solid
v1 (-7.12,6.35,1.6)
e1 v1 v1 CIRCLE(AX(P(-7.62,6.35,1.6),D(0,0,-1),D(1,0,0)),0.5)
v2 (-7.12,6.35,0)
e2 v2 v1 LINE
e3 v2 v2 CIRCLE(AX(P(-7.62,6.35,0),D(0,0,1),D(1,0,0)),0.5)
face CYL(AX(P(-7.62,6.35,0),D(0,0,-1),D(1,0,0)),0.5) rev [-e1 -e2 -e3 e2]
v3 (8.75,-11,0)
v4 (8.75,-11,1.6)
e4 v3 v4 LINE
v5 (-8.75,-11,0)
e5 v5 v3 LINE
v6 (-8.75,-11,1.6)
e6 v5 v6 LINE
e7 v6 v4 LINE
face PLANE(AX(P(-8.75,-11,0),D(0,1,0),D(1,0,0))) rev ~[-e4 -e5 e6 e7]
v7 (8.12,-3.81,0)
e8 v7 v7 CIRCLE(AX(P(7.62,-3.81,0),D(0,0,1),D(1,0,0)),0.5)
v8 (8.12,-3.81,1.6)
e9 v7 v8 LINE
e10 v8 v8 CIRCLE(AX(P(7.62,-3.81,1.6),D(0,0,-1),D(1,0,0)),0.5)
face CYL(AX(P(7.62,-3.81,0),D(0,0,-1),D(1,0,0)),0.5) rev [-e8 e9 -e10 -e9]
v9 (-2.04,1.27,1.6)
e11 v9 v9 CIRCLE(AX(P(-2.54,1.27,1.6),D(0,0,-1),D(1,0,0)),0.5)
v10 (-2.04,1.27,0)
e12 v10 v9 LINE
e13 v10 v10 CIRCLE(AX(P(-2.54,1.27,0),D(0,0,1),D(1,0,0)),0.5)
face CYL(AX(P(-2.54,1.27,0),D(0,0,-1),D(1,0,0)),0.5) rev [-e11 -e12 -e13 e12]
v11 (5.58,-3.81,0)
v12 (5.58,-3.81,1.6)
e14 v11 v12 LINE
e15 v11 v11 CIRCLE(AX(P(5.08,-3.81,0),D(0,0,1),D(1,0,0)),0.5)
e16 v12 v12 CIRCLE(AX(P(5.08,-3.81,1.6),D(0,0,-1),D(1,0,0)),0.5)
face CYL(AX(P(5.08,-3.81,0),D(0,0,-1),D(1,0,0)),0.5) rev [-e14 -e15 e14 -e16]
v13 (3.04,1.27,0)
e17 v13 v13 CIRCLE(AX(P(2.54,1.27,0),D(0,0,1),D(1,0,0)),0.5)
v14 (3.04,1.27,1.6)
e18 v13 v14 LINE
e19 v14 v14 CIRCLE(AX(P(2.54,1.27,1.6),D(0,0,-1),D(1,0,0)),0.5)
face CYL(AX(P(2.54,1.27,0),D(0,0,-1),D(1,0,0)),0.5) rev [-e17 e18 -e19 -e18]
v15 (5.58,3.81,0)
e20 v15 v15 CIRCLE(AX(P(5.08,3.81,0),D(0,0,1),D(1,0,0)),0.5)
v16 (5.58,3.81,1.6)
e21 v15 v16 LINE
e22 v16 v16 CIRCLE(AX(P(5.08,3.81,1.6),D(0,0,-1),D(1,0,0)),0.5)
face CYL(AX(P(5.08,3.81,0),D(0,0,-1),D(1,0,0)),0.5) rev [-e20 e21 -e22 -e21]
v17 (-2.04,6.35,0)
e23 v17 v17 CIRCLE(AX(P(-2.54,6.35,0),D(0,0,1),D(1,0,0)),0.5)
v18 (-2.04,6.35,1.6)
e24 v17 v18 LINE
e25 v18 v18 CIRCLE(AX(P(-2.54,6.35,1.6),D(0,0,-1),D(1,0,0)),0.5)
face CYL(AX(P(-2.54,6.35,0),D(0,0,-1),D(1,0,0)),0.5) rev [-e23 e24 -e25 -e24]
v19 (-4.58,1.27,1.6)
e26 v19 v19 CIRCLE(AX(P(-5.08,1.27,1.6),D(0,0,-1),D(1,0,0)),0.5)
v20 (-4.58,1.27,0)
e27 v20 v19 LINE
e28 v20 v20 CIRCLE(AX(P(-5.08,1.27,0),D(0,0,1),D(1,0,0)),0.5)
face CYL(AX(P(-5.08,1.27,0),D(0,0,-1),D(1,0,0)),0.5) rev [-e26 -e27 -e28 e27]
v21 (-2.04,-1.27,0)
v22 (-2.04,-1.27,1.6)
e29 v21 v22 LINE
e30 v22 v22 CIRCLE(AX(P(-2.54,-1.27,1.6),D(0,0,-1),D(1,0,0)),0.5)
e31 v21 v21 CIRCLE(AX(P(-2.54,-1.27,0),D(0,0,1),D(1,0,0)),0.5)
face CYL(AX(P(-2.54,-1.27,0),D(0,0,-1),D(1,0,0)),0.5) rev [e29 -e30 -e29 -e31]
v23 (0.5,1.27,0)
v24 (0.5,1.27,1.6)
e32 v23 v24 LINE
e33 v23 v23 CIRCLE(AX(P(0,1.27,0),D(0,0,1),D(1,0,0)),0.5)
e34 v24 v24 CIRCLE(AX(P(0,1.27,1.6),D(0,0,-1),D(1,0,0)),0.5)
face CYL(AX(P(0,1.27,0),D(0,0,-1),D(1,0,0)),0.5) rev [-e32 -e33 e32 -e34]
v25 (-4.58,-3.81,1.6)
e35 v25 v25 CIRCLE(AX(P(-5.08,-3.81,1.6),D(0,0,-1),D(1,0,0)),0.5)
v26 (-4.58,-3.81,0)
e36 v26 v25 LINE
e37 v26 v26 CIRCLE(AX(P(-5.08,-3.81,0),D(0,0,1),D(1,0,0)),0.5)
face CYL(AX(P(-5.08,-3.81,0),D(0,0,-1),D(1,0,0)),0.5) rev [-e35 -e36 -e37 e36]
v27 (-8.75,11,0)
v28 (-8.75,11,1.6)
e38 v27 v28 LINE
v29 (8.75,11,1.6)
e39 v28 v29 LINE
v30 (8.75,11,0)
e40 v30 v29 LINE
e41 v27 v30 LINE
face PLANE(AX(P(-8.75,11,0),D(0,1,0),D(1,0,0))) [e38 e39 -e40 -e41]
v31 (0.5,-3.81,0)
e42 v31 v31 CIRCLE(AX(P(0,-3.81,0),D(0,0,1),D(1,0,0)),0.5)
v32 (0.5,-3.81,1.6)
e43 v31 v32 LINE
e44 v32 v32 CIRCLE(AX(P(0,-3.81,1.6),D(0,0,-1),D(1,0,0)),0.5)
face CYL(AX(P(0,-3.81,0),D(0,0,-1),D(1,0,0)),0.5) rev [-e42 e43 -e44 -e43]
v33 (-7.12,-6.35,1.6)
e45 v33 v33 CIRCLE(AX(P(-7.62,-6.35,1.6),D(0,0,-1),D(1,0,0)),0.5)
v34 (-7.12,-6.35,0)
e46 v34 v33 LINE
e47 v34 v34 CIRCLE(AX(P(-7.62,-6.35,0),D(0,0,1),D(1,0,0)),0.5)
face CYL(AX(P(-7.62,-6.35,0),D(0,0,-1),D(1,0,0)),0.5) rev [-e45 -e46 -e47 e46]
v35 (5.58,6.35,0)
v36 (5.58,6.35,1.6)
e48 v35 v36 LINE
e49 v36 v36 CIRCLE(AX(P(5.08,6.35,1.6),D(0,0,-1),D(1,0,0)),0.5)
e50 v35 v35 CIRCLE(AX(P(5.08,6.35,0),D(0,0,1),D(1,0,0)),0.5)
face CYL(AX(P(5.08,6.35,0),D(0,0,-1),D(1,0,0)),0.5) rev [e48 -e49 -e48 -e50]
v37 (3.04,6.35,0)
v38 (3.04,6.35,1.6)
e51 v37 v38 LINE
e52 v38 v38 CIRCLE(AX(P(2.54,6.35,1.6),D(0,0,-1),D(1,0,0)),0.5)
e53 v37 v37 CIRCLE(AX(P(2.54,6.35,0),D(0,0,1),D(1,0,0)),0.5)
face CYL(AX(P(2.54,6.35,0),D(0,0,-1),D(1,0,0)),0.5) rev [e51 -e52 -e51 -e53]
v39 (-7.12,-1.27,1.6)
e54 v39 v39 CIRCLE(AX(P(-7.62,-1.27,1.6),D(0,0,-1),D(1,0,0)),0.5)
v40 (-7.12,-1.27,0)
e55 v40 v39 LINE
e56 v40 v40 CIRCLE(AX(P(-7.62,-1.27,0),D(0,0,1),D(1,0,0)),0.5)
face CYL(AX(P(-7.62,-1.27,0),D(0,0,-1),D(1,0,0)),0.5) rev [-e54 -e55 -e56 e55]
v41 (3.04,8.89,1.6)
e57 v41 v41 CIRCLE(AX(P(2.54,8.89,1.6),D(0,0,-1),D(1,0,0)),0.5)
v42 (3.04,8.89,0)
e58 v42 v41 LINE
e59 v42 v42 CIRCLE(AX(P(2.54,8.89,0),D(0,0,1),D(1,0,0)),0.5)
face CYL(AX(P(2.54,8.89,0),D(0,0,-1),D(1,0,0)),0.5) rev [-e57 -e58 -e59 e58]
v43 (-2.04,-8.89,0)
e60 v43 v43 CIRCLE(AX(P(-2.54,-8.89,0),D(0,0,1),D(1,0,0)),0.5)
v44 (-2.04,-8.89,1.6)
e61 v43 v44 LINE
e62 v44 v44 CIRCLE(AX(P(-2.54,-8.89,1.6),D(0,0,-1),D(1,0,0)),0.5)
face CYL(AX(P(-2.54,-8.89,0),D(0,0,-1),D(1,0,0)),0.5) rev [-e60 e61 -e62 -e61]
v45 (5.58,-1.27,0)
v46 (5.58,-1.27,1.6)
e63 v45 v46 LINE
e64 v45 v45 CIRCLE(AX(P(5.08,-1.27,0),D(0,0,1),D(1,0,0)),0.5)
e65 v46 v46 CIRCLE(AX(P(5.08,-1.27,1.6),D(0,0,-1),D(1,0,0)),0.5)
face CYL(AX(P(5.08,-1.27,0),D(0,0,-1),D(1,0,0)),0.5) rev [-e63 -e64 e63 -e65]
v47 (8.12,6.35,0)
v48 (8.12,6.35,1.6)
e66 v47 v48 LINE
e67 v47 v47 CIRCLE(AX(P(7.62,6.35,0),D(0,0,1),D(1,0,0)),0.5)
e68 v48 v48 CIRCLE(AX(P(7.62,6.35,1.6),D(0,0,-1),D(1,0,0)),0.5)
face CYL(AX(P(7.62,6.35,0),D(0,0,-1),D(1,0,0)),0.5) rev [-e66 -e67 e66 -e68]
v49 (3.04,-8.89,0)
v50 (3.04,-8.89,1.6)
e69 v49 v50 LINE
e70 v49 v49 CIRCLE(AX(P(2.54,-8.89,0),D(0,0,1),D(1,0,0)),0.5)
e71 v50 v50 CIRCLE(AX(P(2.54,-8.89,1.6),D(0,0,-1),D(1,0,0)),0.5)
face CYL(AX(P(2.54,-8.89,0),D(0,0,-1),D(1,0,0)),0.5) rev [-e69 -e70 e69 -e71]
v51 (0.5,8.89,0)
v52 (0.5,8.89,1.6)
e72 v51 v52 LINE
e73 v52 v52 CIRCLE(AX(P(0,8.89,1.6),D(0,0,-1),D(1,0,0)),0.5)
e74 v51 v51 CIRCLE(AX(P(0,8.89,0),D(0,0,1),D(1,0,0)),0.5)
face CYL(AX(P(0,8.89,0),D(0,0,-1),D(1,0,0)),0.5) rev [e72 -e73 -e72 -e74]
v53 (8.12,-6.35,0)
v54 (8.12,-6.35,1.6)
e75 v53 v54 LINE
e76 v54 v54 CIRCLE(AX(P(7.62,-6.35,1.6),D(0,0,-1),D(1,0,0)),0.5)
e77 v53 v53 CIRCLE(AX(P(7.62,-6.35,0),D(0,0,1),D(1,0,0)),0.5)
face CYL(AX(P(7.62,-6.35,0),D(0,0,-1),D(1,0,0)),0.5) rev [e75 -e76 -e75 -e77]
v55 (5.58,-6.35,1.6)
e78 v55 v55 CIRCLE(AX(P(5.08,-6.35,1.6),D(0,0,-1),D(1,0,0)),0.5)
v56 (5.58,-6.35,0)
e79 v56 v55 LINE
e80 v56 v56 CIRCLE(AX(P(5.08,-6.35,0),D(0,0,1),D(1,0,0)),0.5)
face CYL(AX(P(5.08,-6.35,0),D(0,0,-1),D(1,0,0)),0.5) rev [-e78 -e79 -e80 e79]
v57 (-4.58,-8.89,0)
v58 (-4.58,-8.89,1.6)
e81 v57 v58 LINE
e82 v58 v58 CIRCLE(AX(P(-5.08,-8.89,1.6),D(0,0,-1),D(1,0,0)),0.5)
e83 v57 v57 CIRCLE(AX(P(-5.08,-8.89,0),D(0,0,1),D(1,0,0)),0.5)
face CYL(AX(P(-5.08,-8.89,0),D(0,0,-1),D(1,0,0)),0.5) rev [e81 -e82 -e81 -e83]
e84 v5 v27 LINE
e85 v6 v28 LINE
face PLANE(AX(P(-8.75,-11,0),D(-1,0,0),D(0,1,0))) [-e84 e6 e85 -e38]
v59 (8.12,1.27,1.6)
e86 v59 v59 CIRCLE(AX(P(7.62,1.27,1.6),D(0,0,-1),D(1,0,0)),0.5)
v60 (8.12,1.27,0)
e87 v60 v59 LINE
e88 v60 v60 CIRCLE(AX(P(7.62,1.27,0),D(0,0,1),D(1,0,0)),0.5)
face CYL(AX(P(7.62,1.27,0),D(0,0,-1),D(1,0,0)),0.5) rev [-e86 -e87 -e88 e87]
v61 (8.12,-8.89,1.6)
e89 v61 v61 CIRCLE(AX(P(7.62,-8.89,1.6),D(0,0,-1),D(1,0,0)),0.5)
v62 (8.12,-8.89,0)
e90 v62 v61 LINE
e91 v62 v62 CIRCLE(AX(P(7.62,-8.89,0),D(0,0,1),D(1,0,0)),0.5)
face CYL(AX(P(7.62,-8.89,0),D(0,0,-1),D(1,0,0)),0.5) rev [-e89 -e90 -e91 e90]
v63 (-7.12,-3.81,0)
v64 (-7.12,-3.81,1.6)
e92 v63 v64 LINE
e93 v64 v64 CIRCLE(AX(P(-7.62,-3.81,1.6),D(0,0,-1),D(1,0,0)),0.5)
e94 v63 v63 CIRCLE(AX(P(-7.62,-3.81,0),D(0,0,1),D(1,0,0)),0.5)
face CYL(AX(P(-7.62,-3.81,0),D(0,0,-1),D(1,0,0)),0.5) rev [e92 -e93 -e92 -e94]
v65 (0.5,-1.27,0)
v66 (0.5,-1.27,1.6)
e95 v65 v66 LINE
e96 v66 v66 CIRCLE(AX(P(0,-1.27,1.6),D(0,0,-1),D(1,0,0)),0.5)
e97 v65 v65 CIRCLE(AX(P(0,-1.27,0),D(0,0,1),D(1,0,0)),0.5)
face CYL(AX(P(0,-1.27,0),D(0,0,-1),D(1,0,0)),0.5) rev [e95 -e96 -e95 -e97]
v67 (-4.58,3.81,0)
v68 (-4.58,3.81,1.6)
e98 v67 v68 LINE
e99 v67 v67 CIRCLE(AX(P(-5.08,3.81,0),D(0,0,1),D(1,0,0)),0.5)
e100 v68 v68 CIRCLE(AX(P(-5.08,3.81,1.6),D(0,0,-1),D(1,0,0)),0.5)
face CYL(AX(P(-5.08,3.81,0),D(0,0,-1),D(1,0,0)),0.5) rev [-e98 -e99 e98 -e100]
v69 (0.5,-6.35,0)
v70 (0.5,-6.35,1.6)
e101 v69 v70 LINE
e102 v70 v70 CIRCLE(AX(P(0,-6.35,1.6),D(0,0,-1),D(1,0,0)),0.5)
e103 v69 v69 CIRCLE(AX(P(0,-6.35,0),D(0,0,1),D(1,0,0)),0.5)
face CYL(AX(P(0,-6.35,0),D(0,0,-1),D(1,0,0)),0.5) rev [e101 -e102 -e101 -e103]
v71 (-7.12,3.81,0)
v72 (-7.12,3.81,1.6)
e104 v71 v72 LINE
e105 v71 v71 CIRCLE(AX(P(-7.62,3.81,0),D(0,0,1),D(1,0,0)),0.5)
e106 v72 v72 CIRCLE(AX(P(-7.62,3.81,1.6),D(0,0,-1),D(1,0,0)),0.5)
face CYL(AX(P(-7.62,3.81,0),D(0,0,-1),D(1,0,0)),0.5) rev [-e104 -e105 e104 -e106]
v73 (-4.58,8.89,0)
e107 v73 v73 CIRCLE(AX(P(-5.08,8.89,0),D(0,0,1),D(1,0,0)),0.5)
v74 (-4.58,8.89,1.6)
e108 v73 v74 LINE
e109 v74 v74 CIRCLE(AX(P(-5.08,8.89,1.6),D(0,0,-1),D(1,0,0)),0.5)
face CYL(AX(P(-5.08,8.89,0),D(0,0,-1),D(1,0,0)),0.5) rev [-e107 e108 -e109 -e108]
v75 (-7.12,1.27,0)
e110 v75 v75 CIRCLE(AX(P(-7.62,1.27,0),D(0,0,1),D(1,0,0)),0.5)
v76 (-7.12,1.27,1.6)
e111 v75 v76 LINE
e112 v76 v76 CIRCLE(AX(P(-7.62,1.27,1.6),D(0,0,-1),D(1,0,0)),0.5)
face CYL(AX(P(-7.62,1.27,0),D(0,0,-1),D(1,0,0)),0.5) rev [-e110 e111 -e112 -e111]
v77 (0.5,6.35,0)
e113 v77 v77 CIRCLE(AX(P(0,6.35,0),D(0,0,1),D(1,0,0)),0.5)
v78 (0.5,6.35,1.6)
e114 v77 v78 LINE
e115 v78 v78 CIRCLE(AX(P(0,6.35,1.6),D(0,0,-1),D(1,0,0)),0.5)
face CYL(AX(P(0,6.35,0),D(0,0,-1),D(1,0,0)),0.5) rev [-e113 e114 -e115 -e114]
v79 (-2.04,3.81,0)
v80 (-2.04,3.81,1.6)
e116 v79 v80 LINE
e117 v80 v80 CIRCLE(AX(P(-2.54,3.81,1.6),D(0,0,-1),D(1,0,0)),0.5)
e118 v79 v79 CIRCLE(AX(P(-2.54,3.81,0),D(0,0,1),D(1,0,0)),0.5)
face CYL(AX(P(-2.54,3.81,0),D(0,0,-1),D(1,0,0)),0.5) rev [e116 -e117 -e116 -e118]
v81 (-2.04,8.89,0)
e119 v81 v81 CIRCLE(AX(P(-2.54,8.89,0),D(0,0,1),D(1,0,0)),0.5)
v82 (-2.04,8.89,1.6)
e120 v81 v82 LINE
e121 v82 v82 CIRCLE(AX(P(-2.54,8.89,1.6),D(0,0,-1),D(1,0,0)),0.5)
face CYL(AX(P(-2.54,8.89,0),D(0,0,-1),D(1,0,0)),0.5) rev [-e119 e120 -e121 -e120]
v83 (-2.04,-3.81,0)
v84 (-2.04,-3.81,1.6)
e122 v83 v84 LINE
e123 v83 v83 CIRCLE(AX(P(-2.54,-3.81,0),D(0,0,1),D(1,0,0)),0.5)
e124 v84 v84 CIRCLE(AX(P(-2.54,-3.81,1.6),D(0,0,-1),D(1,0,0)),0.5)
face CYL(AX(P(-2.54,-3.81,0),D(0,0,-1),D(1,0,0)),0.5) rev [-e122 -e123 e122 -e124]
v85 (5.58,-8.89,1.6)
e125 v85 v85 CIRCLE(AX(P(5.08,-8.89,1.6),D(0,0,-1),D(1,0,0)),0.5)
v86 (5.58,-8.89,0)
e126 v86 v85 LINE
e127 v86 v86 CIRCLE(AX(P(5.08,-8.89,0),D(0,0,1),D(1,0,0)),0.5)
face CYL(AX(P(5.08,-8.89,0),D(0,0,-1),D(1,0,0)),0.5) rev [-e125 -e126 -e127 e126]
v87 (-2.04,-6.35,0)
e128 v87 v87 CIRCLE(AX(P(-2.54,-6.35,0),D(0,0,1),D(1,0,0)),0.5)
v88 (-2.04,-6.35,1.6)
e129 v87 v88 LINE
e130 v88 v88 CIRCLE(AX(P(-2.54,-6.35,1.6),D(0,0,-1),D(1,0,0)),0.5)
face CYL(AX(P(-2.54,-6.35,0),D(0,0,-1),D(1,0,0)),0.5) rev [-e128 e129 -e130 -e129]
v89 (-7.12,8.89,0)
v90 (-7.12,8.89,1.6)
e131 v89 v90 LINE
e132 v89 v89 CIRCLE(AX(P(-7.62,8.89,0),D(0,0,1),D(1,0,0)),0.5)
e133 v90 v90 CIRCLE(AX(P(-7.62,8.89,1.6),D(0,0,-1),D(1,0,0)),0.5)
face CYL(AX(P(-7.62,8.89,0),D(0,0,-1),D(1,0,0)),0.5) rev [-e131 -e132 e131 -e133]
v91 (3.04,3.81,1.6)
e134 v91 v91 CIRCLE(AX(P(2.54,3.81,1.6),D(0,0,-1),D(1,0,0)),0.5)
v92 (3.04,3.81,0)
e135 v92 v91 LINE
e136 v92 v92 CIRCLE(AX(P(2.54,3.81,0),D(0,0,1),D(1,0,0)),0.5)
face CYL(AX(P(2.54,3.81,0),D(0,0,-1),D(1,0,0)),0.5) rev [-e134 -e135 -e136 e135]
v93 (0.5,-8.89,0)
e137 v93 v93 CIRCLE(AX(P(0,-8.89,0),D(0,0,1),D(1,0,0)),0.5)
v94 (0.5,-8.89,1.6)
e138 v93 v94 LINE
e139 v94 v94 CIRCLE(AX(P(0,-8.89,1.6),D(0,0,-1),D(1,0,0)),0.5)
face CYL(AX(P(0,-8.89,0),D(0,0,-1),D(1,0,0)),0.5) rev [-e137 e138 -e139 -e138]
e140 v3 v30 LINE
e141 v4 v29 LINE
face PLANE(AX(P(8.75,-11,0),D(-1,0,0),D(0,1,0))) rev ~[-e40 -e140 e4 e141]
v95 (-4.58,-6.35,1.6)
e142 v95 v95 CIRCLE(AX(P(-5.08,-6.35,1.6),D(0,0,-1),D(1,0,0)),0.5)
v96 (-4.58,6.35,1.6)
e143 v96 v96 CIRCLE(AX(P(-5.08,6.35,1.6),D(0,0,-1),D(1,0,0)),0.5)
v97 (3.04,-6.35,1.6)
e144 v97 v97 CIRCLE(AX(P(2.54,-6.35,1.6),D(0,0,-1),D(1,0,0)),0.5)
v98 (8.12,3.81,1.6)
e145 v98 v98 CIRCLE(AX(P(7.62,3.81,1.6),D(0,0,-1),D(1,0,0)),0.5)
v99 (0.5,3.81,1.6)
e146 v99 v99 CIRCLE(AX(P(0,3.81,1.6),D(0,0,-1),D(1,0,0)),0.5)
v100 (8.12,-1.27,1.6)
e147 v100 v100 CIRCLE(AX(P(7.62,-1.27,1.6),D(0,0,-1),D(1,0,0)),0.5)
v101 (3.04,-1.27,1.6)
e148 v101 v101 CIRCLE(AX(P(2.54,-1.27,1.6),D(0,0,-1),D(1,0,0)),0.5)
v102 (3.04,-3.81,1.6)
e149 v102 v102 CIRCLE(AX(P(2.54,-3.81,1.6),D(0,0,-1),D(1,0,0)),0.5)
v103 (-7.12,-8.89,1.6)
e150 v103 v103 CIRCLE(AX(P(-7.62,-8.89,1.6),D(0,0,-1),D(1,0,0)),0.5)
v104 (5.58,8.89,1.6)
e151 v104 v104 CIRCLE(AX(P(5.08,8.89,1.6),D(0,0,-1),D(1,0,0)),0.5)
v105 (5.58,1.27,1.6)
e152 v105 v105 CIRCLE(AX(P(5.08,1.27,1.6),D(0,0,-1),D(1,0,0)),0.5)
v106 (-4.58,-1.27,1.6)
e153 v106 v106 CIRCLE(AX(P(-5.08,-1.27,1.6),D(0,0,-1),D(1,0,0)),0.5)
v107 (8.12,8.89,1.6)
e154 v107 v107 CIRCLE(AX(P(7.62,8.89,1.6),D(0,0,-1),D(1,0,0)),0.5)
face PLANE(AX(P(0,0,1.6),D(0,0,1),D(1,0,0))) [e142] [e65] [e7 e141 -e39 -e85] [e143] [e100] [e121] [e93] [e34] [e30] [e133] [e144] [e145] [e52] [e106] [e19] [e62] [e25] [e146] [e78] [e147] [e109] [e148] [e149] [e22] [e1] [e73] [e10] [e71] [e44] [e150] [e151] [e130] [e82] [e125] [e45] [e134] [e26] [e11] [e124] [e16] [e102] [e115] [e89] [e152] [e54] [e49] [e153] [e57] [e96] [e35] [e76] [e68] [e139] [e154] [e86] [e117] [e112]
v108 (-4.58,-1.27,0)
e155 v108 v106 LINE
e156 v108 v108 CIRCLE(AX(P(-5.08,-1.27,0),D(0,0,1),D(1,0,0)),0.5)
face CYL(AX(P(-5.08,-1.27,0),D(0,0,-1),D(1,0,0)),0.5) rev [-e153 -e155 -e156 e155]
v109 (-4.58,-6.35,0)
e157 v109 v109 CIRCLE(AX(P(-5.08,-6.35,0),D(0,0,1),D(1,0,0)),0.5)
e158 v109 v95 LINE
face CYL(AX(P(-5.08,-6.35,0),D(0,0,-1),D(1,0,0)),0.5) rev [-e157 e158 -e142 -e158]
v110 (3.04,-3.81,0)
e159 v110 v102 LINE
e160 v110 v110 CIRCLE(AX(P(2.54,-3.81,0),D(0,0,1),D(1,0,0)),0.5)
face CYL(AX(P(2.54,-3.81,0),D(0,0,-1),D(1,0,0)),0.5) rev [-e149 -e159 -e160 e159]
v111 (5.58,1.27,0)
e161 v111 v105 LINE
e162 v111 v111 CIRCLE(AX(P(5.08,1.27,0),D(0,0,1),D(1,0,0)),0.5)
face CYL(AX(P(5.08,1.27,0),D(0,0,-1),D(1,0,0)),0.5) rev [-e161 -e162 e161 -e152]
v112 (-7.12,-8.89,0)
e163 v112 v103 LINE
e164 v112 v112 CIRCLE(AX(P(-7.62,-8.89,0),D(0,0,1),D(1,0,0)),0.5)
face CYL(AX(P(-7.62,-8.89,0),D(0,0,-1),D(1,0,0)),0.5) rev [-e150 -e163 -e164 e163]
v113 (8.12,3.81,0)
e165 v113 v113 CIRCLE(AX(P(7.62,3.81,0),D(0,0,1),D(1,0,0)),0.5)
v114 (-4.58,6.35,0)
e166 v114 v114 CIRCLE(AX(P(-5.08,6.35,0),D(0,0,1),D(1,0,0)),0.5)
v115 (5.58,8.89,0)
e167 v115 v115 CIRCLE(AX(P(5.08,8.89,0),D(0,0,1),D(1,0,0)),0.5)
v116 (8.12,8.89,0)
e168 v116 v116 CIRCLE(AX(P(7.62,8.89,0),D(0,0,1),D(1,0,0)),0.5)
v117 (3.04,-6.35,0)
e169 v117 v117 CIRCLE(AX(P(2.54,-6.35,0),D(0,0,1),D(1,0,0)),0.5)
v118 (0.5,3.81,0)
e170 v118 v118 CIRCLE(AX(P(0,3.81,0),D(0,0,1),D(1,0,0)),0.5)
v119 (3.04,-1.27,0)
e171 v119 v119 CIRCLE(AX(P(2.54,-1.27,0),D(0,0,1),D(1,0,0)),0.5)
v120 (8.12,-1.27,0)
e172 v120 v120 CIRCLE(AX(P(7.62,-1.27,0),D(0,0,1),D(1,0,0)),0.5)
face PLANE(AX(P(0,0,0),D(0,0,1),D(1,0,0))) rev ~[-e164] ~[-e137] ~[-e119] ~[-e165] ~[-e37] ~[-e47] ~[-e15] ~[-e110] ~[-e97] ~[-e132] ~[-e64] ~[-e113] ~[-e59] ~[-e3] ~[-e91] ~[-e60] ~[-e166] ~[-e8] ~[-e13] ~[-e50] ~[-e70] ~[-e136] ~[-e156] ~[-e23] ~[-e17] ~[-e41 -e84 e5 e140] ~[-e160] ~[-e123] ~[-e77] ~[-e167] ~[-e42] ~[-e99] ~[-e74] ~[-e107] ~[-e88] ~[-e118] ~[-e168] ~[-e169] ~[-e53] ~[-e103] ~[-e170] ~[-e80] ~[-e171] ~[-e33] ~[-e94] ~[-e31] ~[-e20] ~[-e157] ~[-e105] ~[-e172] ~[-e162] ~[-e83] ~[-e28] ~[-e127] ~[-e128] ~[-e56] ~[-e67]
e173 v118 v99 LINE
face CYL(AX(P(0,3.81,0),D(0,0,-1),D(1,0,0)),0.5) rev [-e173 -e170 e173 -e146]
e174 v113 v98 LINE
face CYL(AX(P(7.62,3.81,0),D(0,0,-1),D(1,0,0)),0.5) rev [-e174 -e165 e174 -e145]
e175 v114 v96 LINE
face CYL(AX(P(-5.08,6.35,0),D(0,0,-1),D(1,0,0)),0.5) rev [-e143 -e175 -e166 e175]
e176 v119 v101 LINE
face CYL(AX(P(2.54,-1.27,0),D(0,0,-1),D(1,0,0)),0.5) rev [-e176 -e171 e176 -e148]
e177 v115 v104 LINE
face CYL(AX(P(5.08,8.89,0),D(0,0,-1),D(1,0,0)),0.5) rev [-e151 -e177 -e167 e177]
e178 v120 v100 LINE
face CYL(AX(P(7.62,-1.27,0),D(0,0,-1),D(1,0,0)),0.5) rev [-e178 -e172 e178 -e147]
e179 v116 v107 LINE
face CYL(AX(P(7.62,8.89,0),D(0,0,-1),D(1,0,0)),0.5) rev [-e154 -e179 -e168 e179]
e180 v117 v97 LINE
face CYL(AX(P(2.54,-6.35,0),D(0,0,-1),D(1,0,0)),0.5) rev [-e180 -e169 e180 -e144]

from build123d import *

# Parameters (mm, degrees)
SKETCH016_W                        = 17.5
SKETCH016_H                        = 22
PAD012_DEPTH                       = 1.6
SKETCH017_R                        = 0.5
POCKET003_DEPTH                    = 57.914764
SKETCH017_LINEARPATTERN001_2_R     = 0.5
POCKET003_LINEARPATTERN001_2_DEPTH = 57.914764
SKETCH017_LINEARPATTERN001_3_R     = 0.5
POCKET003_LINEARPATTERN001_3_DEPTH = 57.914764
SKETCH017_LINEARPATTERN001_4_R     = 0.5
POCKET003_LINEARPATTERN001_4_DEPTH = 57.914764
SKETCH017_LINEARPATTERN001_5_R     = 0.5
POCKET003_LINEARPATTERN001_5_DEPTH = 57.914764
SKETCH017_LINEARPATTERN001_6_R     = 0.5
POCKET003_LINEARPATTERN001_6_DEPTH = 57.914764
SKETCH017_LINEARPATTERN001_7_R     = 0.5
POCKET003_LINEARPATTERN001_7_DEPTH = 57.914764
LINEARPATTERN002_COUNT             = 8
LINEARPATTERN002_PITCH             = 2.54


with BuildPart() as part:
    # Sketch016 → Pad012 (new body)
    with BuildSketch(Plane.XY):
        Rectangle(SKETCH016_W, SKETCH016_H)
    extrude(amount=PAD012_DEPTH)

    # Sketch017 → Pocket003 (cut, through all)
    with BuildSketch(Plane.XY):
        with Locations((-7.62, -8.89)):
            Circle(SKETCH017_R)
    pocket003 = extrude(amount=POCKET003_DEPTH, mode=Mode.SUBTRACT)

    # Sketch017 LinearPattern001 2 → Pocket003 LinearPattern001 2 (cut, through all)
    with BuildSketch(Plane(origin=(2.54, 0, 0), x_dir=(1, 0, 0), z_dir=(0, 0, 1))):
        with Locations((-7.62, -8.89)):
            Circle(SKETCH017_LINEARPATTERN001_2_R)
    pocket003_linearpattern001_2 = extrude(amount=POCKET003_LINEARPATTERN001_2_DEPTH, mode=Mode.SUBTRACT)

    # Sketch017 LinearPattern001 3 → Pocket003 LinearPattern001 3 (cut, through all)
    with BuildSketch(Plane(origin=(5.08, 0, 0), x_dir=(1, 0, 0), z_dir=(0, 0, 1))):
        with Locations((-7.62, -8.89)):
            Circle(SKETCH017_LINEARPATTERN001_3_R)
    pocket003_linearpattern001_3 = extrude(amount=POCKET003_LINEARPATTERN001_3_DEPTH, mode=Mode.SUBTRACT)

    # Sketch017 LinearPattern001 4 → Pocket003 LinearPattern001 4 (cut, through all)
    with BuildSketch(Plane(origin=(7.62, 0, 0), x_dir=(1, 0, 0), z_dir=(0, 0, 1))):
        with Locations((-7.62, -8.89)):
            Circle(SKETCH017_LINEARPATTERN001_4_R)
    pocket003_linearpattern001_4 = extrude(amount=POCKET003_LINEARPATTERN001_4_DEPTH, mode=Mode.SUBTRACT)

    # Sketch017 LinearPattern001 5 → Pocket003 LinearPattern001 5 (cut, through all)
    with BuildSketch(Plane(origin=(10.16, 0, 0), x_dir=(1, 0, 0), z_dir=(0, 0, 1))):
        with Locations((-7.62, -8.89)):
            Circle(SKETCH017_LINEARPATTERN001_5_R)
    pocket003_linearpattern001_5 = extrude(amount=POCKET003_LINEARPATTERN001_5_DEPTH, mode=Mode.SUBTRACT)

    # Sketch017 LinearPattern001 6 → Pocket003 LinearPattern001 6 (cut, through all)
    with BuildSketch(Plane(origin=(12.7, 0, 0), x_dir=(1, 0, 0), z_dir=(0, 0, 1))):
        with Locations((-7.62, -8.89)):
            Circle(SKETCH017_LINEARPATTERN001_6_R)
    pocket003_linearpattern001_6 = extrude(amount=POCKET003_LINEARPATTERN001_6_DEPTH, mode=Mode.SUBTRACT)

    # Sketch017 LinearPattern001 7 → Pocket003 LinearPattern001 7 (cut, through all)
    with BuildSketch(Plane(origin=(15.24, 0, 0), x_dir=(1, 0, 0), z_dir=(0, 0, 1))):
        with Locations((-7.62, -8.89)):
            Circle(SKETCH017_LINEARPATTERN001_7_R)
    pocket003_linearpattern001_7 = extrude(amount=POCKET003_LINEARPATTERN001_7_DEPTH, mode=Mode.SUBTRACT)

    # LinearPattern002: Pocket003, Pocket003 LinearPattern001 2, Pocket003 LinearPattern001 3, Pocket003 LinearPattern001 4, Pocket003 LinearPattern001 5, Pocket003 LinearPattern001 6, Pocket003 LinearPattern001 7 ×8
    with Locations(*[(0, i * LINEARPATTERN002_PITCH, 0) for i in range(1, LINEARPATTERN002_COUNT)]):
        add(pocket003, mode=Mode.SUBTRACT)
        add(pocket003_linearpattern001_2, mode=Mode.SUBTRACT)
        add(pocket003_linearpattern001_3, mode=Mode.SUBTRACT)
        add(pocket003_linearpattern001_4, mode=Mode.SUBTRACT)
        add(pocket003_linearpattern001_5, mode=Mode.SUBTRACT)
        add(pocket003_linearpattern001_6, mode=Mode.SUBTRACT)
        add(pocket003_linearpattern001_7, mode=Mode.SUBTRACT)


solid = part.part
